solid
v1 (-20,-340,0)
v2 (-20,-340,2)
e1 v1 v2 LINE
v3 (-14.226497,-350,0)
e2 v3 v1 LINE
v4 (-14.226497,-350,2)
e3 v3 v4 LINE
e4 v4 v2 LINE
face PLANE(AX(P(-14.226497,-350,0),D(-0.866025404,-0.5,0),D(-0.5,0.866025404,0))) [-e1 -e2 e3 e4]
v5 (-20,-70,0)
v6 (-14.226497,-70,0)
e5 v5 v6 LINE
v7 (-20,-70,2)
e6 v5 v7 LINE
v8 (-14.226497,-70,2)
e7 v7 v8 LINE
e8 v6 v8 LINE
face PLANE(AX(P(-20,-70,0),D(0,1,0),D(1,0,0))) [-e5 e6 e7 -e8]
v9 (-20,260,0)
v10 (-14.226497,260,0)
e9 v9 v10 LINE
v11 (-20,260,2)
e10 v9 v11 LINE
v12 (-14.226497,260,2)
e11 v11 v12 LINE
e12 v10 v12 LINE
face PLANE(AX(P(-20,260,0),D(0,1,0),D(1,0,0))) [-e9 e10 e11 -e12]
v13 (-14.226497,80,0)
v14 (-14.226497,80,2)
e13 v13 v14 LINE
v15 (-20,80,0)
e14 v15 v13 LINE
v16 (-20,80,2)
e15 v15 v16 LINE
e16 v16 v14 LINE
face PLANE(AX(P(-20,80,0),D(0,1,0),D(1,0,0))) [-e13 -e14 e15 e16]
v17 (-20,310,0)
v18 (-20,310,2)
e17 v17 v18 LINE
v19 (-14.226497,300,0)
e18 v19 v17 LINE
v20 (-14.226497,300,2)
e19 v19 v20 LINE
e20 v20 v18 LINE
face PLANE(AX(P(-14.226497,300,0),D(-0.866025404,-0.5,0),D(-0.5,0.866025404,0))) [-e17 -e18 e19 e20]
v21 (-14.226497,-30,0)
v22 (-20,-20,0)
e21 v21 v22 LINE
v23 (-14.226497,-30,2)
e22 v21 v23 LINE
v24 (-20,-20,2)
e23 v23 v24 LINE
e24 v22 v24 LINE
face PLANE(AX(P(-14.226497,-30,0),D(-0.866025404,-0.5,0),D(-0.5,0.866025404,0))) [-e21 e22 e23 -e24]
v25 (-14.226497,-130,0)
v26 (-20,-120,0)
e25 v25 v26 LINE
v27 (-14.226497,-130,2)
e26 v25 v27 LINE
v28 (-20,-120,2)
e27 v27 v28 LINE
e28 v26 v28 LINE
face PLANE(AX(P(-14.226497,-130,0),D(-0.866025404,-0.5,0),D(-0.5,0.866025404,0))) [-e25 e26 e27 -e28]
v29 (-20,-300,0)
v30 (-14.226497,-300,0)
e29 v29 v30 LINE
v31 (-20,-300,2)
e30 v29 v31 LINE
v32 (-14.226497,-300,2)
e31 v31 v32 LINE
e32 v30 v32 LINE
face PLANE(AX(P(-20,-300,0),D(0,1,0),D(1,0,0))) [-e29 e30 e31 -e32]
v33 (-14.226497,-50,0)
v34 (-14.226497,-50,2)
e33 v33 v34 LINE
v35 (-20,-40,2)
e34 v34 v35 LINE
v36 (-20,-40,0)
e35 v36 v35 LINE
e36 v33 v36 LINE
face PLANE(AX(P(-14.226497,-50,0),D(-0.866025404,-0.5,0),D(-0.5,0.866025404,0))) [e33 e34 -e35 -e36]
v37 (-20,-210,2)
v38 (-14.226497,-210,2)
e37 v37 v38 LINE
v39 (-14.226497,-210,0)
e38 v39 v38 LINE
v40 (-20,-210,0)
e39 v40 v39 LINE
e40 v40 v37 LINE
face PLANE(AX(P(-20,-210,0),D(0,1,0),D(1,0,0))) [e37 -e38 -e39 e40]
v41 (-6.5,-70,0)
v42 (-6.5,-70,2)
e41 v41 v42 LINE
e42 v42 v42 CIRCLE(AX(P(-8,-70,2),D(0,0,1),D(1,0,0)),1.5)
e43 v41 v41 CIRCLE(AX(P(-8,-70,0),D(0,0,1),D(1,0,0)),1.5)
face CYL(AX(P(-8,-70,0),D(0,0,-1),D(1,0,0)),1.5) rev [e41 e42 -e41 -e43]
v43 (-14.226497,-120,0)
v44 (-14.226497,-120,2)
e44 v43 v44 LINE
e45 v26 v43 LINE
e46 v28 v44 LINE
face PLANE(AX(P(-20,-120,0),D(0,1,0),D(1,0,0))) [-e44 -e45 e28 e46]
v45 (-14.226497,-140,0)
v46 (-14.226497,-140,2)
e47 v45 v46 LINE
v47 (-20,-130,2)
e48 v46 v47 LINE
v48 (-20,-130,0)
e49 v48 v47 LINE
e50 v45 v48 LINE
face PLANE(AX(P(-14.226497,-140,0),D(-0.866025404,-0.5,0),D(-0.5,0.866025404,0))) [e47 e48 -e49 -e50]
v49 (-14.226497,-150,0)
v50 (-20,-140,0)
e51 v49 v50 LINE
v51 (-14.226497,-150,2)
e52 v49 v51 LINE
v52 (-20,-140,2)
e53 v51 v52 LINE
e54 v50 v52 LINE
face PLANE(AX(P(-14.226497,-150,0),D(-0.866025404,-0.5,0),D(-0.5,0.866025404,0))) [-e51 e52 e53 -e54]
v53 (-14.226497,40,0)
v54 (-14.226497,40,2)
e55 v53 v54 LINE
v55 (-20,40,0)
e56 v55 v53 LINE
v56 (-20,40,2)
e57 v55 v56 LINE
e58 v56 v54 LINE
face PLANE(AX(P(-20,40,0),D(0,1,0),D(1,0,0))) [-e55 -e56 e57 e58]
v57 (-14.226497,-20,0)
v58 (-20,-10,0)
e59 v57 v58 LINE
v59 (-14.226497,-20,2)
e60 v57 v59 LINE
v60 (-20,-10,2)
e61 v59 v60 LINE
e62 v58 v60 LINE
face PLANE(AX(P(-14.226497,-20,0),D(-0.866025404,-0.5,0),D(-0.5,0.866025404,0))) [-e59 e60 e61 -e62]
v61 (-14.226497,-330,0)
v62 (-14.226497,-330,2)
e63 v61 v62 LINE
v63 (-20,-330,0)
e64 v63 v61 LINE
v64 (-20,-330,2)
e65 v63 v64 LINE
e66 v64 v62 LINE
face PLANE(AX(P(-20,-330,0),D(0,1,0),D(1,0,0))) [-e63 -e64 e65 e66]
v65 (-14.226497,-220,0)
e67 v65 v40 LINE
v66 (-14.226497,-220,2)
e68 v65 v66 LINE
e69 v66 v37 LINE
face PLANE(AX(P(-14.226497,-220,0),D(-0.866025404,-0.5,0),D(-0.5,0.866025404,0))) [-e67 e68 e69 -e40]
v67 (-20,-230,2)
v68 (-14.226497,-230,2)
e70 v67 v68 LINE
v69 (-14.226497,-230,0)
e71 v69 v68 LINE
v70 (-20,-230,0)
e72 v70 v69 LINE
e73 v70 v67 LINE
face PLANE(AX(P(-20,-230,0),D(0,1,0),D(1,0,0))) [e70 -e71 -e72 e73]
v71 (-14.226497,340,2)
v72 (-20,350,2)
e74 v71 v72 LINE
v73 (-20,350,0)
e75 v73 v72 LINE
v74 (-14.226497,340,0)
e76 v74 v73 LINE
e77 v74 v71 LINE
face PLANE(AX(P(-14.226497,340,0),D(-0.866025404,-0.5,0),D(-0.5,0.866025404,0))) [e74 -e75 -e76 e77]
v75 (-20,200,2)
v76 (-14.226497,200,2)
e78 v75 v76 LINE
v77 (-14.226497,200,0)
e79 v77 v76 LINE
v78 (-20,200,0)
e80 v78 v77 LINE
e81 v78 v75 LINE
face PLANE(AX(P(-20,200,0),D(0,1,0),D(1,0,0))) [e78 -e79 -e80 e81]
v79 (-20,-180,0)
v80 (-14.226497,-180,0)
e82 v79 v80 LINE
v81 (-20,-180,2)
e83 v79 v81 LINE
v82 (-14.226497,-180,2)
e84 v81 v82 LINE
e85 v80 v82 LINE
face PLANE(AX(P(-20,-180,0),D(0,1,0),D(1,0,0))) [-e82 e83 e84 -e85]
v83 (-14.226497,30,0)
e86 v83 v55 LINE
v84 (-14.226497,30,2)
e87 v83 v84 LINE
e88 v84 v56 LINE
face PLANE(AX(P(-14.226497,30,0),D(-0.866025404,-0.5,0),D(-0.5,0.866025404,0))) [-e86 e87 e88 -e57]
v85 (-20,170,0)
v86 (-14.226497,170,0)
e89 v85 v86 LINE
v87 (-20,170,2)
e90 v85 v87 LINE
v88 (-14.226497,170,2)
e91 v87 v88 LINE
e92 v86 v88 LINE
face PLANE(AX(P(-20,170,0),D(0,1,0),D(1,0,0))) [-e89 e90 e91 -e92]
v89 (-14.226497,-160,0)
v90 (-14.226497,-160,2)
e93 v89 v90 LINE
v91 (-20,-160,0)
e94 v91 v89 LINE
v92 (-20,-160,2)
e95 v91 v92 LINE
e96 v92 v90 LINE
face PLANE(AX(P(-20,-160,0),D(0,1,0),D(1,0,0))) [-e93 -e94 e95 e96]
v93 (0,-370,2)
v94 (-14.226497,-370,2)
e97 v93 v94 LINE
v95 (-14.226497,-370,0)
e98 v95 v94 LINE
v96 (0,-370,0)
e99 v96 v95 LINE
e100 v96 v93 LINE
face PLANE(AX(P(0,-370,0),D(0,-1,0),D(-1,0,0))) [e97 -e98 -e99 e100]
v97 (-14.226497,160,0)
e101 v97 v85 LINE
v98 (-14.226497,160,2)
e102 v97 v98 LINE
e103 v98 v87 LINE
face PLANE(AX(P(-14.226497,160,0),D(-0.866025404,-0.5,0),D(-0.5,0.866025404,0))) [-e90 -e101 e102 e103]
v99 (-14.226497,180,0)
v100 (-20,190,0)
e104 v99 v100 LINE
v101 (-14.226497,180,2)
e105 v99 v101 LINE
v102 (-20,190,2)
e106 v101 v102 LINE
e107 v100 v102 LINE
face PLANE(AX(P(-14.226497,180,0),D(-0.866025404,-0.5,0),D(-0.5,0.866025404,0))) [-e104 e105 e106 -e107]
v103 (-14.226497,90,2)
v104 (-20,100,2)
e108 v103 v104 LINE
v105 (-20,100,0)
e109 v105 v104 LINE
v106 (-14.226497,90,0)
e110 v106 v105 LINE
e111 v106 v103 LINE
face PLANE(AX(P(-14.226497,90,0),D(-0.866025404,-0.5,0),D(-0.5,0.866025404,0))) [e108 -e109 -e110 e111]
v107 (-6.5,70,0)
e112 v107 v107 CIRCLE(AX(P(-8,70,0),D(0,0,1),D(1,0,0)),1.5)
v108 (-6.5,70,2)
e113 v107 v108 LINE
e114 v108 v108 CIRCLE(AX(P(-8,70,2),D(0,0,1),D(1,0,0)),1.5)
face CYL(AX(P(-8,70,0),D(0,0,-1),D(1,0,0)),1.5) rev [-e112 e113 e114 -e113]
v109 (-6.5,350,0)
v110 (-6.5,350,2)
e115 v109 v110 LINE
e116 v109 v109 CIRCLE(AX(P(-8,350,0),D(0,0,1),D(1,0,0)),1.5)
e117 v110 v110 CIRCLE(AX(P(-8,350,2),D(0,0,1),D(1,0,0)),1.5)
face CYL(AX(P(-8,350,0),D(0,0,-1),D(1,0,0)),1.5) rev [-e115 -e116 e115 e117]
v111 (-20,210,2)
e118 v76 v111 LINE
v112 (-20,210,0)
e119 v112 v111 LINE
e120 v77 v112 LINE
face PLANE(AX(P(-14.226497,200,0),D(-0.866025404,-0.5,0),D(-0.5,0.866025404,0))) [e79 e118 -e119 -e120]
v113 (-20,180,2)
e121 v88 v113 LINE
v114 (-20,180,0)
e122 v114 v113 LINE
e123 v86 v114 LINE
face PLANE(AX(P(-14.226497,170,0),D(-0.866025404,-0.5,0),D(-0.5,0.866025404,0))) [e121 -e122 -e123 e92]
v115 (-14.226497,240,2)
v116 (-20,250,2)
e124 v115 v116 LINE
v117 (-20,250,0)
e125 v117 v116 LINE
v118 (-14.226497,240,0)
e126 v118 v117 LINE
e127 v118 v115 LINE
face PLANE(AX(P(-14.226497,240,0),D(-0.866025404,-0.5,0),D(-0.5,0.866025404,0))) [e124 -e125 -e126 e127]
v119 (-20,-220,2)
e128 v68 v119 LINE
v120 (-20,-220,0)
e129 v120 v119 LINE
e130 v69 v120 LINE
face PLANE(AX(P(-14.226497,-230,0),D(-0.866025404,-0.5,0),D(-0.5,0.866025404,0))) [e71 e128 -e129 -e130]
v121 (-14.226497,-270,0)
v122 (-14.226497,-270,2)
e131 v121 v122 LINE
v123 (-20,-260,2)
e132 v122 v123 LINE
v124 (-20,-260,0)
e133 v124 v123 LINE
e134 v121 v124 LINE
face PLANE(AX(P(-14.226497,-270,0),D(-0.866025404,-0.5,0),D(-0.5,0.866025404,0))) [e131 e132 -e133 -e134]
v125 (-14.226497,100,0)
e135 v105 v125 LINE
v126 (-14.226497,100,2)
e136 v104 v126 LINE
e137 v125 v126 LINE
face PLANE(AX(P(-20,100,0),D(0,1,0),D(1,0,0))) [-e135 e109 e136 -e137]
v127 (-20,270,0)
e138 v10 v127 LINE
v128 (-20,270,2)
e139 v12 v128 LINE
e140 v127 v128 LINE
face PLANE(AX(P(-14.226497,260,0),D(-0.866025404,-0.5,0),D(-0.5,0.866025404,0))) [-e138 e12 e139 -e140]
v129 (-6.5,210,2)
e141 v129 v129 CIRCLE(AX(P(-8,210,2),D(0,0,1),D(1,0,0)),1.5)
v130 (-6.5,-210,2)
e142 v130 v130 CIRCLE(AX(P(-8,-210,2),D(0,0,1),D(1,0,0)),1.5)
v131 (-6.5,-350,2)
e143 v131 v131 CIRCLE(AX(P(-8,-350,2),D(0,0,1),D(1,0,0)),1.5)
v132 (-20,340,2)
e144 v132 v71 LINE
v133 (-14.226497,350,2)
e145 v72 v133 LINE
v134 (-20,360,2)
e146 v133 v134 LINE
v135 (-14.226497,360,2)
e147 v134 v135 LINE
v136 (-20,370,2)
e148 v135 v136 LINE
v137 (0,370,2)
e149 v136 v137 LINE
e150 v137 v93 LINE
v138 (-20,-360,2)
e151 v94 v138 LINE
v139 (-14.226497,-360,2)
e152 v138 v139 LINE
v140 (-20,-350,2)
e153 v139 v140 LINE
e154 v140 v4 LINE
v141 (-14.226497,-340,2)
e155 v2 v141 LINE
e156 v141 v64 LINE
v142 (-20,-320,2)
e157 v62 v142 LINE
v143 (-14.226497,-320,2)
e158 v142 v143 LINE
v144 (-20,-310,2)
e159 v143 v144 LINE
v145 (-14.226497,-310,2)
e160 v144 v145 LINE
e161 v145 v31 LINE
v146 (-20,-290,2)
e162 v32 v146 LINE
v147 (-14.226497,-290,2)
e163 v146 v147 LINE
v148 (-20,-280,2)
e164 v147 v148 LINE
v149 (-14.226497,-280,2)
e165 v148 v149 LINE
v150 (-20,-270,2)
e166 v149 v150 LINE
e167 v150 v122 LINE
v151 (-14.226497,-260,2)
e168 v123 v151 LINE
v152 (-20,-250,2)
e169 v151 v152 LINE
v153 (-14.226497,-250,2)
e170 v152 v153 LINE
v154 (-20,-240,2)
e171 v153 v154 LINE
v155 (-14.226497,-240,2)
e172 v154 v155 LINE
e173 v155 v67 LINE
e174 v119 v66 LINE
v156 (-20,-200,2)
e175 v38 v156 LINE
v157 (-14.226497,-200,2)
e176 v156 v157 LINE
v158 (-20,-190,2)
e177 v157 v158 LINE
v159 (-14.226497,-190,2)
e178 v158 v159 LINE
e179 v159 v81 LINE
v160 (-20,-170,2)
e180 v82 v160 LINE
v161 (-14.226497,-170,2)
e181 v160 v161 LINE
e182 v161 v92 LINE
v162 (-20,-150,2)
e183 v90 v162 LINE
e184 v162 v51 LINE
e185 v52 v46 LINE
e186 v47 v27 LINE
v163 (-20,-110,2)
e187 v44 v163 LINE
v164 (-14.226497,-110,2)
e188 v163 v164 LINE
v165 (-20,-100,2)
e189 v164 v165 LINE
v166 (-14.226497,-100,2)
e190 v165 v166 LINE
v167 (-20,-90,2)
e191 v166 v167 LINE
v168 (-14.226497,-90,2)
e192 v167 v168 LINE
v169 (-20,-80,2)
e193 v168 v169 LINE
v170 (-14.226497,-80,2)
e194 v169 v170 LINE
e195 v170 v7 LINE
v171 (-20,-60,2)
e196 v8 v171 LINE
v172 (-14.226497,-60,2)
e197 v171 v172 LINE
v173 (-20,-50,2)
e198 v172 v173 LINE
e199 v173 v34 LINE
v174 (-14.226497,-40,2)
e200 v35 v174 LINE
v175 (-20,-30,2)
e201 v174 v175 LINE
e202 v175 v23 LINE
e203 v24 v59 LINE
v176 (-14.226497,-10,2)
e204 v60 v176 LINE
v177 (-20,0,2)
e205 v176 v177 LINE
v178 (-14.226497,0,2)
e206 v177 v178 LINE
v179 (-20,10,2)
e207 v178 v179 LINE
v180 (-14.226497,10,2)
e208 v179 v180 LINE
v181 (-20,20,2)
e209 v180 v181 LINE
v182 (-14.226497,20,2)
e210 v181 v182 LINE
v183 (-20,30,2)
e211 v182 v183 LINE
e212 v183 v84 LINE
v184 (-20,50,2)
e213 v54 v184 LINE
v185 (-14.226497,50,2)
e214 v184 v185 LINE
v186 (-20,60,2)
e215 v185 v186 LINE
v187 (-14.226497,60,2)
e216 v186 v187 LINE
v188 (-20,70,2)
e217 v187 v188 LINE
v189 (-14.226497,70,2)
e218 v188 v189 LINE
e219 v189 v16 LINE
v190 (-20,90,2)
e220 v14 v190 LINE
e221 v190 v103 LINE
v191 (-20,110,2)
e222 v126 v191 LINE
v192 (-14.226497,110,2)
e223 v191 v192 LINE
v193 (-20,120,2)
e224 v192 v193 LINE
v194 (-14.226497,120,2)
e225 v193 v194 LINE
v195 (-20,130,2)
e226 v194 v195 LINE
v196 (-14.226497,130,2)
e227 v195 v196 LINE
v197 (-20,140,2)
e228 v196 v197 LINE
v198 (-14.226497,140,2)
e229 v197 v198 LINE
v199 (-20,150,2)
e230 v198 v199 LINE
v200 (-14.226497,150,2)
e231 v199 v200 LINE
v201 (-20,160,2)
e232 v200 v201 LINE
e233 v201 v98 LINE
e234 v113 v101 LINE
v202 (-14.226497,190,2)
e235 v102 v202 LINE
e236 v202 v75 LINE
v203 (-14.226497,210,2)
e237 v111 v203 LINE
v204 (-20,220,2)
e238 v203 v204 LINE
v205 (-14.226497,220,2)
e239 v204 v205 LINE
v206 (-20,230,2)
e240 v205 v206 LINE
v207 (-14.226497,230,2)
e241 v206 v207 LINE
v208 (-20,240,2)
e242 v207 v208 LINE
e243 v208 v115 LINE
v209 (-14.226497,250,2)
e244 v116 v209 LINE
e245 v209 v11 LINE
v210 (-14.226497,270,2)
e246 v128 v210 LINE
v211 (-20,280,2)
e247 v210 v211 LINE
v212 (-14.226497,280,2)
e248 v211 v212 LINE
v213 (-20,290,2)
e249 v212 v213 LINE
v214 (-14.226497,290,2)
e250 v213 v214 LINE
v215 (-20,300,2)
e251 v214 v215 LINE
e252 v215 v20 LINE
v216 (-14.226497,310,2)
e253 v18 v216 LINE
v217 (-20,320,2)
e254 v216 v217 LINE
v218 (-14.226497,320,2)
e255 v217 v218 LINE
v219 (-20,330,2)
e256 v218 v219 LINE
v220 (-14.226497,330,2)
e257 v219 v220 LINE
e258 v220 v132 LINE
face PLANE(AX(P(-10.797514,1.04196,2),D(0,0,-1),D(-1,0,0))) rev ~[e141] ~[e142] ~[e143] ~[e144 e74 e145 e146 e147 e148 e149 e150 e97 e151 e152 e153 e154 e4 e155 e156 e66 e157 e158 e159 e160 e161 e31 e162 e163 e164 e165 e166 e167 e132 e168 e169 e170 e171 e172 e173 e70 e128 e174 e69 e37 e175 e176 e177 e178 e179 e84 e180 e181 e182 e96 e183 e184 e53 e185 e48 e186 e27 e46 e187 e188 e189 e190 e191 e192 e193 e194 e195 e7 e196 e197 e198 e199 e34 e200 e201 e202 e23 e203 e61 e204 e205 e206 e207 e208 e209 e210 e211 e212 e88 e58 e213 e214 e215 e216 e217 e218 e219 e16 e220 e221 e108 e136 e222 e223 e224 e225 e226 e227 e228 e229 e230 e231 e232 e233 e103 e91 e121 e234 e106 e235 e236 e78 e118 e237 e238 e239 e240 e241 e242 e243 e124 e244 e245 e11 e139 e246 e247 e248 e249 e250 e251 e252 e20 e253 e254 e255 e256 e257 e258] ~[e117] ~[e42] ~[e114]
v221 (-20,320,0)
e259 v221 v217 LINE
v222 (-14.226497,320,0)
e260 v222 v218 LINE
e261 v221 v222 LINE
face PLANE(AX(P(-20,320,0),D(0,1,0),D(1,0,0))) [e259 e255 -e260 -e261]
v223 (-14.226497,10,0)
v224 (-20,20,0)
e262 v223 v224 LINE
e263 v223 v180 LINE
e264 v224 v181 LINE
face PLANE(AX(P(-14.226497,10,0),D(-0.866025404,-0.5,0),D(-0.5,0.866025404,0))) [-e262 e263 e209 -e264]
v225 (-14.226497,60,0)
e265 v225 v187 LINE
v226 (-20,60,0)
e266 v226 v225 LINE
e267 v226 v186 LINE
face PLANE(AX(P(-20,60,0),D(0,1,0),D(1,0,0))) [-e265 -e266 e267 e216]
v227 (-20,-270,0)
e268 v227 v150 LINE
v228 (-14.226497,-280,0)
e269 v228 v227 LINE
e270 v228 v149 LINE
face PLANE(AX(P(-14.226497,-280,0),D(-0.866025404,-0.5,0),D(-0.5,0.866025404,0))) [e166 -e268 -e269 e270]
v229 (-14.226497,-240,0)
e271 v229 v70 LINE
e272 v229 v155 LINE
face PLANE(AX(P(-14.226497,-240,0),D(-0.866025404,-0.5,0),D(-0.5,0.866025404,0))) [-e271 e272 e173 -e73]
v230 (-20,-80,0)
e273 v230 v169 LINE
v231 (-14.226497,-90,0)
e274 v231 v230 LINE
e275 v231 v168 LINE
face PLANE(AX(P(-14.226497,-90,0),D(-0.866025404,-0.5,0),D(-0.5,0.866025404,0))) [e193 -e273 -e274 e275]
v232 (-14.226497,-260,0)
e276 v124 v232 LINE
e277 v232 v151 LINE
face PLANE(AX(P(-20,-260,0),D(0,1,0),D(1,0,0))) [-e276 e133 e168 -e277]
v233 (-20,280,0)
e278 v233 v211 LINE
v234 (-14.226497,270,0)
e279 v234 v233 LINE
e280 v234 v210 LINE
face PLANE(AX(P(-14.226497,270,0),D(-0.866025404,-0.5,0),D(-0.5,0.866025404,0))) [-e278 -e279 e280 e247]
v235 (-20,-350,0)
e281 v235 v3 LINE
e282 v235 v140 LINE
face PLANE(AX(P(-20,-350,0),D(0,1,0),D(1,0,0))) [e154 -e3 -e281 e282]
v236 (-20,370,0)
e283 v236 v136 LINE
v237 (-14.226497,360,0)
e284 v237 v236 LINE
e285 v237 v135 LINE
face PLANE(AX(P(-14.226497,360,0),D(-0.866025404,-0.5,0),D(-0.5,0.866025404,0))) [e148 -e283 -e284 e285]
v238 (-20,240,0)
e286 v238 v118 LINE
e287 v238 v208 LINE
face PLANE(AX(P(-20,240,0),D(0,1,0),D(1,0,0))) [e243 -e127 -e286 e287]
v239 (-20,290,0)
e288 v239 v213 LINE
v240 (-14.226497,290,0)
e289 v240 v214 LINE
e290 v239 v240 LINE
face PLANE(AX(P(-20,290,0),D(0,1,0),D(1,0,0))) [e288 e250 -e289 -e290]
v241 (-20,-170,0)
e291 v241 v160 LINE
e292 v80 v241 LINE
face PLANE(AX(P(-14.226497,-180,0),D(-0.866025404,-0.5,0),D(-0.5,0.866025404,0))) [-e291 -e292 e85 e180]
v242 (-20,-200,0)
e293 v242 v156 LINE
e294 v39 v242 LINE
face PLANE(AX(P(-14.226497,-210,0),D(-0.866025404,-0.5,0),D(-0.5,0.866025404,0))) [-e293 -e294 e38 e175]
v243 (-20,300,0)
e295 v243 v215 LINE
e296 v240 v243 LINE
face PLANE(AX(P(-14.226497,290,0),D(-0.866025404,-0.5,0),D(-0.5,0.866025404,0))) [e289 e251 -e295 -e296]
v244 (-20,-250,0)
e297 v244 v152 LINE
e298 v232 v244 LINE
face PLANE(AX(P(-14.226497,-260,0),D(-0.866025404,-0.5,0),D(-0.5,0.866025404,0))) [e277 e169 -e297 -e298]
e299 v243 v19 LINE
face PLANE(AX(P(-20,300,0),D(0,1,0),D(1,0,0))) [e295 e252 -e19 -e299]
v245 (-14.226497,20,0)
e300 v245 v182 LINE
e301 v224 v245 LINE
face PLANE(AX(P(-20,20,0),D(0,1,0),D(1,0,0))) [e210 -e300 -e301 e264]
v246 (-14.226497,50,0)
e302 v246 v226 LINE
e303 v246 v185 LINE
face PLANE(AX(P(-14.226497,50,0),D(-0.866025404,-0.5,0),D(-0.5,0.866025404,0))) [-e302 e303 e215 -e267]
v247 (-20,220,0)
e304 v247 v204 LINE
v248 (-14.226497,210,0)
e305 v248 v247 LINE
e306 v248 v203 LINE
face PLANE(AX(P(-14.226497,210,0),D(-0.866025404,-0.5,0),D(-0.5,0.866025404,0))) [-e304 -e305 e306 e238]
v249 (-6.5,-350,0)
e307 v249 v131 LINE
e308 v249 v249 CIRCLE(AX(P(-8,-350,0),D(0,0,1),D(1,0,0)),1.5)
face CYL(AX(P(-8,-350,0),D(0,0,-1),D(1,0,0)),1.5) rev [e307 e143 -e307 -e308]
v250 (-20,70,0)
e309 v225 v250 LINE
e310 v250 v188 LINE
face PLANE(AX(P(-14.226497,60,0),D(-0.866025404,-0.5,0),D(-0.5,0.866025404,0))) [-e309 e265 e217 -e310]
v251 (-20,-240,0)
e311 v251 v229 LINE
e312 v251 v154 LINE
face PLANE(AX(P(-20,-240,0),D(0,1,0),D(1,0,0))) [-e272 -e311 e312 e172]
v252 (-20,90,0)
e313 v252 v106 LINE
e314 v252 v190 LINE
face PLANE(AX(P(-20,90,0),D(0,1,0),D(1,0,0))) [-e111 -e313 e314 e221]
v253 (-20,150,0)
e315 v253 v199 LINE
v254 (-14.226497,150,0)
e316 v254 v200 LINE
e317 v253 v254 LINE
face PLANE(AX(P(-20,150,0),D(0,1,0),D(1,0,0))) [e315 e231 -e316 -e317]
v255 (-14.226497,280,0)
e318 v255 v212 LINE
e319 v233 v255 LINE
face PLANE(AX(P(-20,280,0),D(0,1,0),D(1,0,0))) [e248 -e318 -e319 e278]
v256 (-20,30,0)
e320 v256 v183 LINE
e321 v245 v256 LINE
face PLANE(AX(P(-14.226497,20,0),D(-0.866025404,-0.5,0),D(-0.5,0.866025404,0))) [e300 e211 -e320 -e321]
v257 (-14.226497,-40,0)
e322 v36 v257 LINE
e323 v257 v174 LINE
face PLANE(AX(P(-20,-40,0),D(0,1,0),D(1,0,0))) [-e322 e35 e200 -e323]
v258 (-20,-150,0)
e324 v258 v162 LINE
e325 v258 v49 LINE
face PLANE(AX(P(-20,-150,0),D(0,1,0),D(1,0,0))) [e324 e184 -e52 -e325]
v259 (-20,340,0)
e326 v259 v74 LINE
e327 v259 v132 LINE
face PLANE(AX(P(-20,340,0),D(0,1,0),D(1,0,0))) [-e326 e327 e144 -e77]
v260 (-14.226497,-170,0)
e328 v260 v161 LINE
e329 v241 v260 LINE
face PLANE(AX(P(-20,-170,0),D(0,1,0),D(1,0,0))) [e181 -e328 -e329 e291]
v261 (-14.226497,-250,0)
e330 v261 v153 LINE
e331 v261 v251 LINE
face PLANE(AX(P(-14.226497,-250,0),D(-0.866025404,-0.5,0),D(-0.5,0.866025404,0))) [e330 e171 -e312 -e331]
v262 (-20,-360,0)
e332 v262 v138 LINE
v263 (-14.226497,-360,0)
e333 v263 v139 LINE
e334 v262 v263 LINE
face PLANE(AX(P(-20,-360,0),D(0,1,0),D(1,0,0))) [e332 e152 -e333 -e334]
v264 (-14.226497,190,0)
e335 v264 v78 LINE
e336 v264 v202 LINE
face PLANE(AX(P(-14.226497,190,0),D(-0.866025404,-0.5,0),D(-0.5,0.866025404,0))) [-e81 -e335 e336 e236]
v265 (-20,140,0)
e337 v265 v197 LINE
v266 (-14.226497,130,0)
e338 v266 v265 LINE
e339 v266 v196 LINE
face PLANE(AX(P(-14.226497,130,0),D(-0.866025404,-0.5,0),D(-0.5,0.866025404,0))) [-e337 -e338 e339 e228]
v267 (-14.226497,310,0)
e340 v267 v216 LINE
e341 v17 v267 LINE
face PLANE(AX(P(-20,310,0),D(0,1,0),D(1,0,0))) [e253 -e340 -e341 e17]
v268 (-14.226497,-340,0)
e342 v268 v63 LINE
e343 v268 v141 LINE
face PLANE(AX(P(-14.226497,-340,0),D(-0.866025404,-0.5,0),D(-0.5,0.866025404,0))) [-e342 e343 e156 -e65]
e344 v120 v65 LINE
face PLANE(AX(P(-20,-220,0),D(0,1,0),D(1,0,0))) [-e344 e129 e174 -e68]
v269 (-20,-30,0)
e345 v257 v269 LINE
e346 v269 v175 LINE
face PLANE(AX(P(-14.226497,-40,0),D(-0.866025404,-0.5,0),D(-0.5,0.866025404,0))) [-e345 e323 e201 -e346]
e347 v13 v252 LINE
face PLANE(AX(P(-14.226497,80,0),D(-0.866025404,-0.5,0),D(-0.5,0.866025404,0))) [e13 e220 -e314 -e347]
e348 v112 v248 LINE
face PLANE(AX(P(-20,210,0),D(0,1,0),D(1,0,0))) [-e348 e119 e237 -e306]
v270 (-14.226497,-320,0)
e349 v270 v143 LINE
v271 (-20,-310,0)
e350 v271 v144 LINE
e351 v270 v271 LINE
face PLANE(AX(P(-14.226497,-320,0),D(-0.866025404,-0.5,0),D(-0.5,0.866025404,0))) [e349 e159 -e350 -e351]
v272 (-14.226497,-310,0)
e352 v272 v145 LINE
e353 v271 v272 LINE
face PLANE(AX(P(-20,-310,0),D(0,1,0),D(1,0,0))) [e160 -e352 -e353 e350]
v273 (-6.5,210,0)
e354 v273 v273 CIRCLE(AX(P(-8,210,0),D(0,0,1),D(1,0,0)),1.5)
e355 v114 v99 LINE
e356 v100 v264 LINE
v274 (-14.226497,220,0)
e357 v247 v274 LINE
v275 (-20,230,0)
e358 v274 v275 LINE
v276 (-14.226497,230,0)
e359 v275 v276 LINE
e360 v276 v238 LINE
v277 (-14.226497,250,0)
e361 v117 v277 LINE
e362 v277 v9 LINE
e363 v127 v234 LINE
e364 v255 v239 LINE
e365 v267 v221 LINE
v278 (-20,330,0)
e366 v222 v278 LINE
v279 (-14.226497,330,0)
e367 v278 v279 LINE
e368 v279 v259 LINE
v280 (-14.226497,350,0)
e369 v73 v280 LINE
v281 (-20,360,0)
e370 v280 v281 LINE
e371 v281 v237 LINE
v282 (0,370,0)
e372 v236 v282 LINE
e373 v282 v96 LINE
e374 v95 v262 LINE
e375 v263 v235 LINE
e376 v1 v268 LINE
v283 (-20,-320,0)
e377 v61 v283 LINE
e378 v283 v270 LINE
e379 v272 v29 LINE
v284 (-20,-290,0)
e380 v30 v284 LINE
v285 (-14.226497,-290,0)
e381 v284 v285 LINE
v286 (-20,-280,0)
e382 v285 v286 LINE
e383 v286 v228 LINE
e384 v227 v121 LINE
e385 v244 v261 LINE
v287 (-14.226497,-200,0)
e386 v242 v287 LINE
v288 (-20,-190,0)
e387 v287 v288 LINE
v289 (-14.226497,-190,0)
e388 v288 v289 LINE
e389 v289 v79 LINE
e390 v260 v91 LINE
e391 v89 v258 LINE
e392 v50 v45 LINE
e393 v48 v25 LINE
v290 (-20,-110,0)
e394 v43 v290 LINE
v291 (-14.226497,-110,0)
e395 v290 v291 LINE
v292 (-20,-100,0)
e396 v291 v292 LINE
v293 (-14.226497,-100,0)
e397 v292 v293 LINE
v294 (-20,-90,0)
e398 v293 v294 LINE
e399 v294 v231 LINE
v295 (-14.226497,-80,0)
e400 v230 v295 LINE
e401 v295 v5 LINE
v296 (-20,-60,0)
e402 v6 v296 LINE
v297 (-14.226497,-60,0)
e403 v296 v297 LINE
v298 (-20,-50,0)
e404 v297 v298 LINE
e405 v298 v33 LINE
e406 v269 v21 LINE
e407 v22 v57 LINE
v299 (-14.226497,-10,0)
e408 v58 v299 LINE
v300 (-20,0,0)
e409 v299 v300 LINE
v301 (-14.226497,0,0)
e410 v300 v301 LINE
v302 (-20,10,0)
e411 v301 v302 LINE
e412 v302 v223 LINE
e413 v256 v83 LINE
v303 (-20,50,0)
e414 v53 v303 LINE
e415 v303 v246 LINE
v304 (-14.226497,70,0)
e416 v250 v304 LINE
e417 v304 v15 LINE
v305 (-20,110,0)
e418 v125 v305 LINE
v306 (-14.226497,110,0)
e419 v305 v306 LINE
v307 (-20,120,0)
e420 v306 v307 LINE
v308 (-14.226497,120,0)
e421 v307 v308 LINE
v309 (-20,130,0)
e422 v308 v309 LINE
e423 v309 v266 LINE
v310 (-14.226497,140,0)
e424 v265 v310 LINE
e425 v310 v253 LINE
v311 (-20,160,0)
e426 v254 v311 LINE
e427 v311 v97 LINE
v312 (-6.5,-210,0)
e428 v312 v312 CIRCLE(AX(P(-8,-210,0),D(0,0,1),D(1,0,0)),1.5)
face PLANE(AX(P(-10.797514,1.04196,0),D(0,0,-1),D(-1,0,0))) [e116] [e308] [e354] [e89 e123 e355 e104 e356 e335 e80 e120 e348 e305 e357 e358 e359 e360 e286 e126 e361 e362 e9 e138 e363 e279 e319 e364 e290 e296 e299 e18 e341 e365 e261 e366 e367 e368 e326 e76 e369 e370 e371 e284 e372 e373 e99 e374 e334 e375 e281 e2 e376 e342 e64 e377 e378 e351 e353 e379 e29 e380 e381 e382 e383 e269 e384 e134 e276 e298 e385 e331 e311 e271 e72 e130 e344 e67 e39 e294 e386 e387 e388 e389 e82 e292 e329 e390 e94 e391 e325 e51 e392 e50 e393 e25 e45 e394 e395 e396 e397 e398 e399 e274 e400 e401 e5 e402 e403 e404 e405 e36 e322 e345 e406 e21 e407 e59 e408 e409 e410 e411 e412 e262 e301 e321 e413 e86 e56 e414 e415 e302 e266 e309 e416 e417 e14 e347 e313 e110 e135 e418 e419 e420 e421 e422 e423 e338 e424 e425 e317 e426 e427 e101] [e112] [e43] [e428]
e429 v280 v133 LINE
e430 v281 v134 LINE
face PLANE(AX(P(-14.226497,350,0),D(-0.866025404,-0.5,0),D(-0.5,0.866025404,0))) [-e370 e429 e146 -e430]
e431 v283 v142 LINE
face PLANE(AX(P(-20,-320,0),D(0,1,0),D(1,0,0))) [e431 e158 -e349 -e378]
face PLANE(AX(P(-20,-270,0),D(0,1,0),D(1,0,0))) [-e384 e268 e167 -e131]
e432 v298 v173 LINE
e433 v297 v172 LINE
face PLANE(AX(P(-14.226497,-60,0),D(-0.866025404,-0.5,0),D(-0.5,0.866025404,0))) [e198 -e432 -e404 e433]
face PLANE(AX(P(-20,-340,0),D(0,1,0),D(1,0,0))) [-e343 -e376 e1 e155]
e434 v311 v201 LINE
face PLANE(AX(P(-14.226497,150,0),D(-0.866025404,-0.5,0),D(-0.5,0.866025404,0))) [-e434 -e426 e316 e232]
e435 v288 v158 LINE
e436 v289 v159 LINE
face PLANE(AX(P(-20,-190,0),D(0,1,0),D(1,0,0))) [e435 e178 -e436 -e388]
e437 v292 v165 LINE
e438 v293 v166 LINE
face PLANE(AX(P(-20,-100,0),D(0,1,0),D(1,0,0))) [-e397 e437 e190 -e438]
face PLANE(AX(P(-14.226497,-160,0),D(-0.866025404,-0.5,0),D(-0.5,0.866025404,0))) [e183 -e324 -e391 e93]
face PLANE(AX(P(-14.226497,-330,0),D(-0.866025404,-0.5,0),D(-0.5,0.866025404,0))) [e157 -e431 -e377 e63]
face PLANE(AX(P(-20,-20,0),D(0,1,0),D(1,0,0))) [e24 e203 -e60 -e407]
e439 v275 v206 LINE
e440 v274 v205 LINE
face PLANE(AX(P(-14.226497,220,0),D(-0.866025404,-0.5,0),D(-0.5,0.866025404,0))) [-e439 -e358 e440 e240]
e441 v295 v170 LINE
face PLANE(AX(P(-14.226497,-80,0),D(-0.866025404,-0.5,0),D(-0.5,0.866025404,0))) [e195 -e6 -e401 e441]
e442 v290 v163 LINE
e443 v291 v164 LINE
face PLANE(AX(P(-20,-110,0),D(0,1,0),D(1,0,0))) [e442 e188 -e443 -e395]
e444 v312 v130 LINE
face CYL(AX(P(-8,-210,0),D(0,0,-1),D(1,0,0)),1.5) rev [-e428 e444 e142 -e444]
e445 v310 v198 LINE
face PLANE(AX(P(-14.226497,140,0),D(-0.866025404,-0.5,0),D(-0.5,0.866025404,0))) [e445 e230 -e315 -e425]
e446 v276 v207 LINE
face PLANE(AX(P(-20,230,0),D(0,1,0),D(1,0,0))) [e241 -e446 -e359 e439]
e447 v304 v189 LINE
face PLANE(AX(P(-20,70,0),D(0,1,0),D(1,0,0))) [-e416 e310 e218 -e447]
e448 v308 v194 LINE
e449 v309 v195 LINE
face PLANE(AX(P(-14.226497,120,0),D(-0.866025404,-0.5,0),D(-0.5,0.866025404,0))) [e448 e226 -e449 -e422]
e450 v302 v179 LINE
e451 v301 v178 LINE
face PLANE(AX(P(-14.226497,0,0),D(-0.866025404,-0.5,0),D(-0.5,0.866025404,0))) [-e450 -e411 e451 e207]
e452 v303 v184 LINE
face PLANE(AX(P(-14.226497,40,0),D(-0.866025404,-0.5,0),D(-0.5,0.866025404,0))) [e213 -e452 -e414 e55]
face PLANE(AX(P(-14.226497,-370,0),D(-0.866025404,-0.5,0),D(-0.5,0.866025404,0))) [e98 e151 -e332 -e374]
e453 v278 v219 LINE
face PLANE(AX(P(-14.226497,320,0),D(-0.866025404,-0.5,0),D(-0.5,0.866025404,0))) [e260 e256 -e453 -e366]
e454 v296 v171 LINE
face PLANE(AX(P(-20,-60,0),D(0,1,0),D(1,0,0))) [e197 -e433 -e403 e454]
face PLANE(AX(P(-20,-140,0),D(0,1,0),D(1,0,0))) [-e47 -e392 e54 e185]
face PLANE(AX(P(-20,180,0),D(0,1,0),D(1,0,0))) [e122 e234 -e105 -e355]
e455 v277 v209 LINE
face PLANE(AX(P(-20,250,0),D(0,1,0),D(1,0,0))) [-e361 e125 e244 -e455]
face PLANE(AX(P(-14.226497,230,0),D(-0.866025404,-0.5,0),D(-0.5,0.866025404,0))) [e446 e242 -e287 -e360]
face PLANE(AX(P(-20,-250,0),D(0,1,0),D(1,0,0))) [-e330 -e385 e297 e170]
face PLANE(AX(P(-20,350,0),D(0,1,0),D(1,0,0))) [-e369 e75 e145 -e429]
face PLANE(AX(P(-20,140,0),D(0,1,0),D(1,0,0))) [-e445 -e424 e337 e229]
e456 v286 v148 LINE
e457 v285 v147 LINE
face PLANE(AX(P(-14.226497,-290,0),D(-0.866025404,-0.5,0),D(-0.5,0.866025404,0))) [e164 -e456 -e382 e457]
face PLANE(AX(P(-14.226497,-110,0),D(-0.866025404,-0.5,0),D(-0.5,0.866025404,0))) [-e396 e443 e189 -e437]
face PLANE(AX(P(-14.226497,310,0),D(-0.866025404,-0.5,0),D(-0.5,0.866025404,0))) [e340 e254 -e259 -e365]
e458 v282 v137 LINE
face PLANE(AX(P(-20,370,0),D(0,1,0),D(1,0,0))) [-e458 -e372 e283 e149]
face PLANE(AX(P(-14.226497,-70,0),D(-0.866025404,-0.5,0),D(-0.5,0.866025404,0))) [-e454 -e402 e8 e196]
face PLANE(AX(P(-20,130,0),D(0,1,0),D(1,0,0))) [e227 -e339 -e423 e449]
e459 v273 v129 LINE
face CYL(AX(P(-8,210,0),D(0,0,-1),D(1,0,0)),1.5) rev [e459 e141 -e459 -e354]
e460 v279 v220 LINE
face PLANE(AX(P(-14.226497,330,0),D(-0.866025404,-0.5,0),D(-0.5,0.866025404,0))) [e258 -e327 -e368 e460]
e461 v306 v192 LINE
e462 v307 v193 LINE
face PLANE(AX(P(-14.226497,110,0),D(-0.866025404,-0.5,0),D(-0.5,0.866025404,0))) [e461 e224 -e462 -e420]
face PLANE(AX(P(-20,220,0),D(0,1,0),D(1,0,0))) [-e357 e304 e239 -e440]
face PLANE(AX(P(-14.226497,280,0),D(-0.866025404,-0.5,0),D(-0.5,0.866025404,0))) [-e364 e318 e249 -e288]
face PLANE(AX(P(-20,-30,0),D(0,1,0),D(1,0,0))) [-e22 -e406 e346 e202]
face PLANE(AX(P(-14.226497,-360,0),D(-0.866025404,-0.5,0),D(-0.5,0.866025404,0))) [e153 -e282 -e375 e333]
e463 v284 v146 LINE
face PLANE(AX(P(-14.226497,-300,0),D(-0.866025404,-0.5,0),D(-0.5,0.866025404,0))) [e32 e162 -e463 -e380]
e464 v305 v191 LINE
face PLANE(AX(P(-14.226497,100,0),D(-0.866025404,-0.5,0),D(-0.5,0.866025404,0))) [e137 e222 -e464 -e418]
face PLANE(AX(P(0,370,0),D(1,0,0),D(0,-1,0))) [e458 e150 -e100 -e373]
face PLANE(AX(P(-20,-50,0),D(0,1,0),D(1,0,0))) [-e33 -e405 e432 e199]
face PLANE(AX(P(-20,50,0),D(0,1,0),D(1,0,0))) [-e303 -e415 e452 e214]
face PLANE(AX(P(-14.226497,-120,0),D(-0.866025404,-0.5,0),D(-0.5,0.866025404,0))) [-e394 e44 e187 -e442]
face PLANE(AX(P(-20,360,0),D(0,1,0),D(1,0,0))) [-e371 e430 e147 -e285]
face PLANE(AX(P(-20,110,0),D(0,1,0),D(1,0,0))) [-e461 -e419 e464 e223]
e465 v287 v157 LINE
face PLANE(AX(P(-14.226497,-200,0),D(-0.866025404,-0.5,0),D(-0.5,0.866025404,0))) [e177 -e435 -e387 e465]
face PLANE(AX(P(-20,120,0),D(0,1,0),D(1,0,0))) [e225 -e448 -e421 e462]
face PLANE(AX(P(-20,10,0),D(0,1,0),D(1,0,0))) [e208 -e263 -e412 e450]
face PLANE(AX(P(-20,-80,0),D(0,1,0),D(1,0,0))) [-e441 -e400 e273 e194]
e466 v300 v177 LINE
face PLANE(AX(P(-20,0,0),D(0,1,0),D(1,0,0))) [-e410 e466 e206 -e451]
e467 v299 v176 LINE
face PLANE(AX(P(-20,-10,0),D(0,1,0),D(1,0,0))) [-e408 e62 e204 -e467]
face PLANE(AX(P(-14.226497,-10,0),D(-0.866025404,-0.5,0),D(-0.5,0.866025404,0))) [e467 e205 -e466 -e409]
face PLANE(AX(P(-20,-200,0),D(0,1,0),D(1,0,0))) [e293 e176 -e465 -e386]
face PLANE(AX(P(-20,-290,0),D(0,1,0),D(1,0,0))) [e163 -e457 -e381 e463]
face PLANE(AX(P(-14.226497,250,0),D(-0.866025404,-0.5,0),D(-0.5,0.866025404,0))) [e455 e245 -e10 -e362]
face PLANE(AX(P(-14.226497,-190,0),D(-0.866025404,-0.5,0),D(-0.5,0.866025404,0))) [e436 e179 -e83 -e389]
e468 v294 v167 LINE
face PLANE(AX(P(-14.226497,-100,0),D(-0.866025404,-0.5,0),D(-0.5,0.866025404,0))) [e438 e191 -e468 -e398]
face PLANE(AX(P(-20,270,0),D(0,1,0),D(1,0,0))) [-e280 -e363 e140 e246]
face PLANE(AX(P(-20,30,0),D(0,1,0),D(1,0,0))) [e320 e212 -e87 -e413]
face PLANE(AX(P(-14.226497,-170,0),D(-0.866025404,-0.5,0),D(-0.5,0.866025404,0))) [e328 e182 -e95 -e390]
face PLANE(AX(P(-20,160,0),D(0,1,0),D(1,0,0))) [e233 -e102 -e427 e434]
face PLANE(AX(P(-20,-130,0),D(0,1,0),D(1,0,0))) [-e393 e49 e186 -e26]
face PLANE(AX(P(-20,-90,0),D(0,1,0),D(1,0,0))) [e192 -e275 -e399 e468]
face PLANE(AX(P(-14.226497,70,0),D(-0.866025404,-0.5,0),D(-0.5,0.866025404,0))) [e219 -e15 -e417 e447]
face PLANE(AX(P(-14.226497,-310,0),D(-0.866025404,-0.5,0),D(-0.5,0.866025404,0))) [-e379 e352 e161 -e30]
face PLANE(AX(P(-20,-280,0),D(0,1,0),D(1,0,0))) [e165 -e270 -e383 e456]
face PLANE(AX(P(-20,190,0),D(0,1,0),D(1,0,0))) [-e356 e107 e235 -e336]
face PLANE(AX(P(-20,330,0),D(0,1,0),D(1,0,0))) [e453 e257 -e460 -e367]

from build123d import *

# Parameters (mm, degrees)
SKETCH1_R           = 1.5
BOSS_EXTRUDE1_DEPTH = 2


with BuildPart() as part:
    # Sketch1 → Boss-Extrude1 (new body)
    with BuildSketch(Plane.XY):
        Polygon((0, 370), (0, -370), (-14.226497308, -370), (-20, -360), (-14.226497308, -360), (-20, -350), (-14.226497308, -350), (-20, -340), (-14.226497308, -340), (-20, -330), (-14.226497308, -330), (-20, -320), (-14.226497308, -320), (-20, -310), (-14.226497308, -310), (-20, -300), (-14.226497308, -300), (-20, -290), (-14.226497308, -290), (-20, -280), (-14.226497308, -280), (-20, -270), (-14.226497308, -270), (-20, -260), (-14.226497308, -260), (-20, -250), (-14.226497308, -250), (-20, -240), (-14.226497308, -240), (-20, -230), (-14.226497308, -230), (-20, -220), (-14.226497308, -220), (-20, -210), (-14.226497308, -210), (-20, -200), (-14.226497308, -200), (-20, -190), (-14.226497308, -190), (-20, -180), (-14.226497308, -180), (-20, -170), (-14.226497308, -170), (-20, -160), (-14.226497308, -160), (-20, -150), (-14.226497308, -150), (-20, -140), (-14.226497308, -140), (-20, -130), (-14.226497308, -130), (-20, -120), (-14.226497308, -120), (-20, -110), (-14.226497308, -110), (-20, -100), (-14.226497308, -100), (-20, -90), (-14.226497308, -90), (-20, -80), (-14.226497308, -80), (-20, -70), (-14.226497308, -70), (-20, -60), (-14.226497308, -60), (-20, -50), (-14.226497308, -50), (-20, -40), (-14.226497308, -40), (-20, -30), (-14.226497308, -30), (-20, -20), (-14.226497308, -20), (-20, -10), (-14.226497308, -10), (-20, 0), (-14.226497308, 0), (-20, 10), (-14.226497308, 10), (-20, 20), (-14.226497308, 20), (-20, 30), (-14.226497308, 30), (-20, 40), (-14.226497308, 40), (-20, 50), (-14.226497308, 50), (-20, 60), (-14.226497308, 60), (-20, 70), (-14.226497308, 70), (-20, 80), (-14.226497308, 80), (-20, 90), (-14.226497308, 90), (-20, 100), (-14.226497308, 100), (-20, 110), (-14.226497308, 110), (-20, 120), (-14.226497308, 120), (-20, 130), (-14.226497308, 130), (-20, 140), (-14.226497308, 140), (-20, 150), (-14.226497308, 150), (-20, 160), (-14.226497308, 160), (-20, 170), (-14.226497308, 170), (-20, 180), (-14.226497308, 180), (-20, 190), (-14.226497308, 190), (-20, 200), (-14.226497308, 200), (-20, 210), (-14.226497308, 210), (-20, 220), (-14.226497308, 220), (-20, 230), (-14.226497308, 230), (-20, 240), (-14.226497308, 240), (-20, 250), (-14.226497308, 250), (-20, 260), (-14.226497308, 260), (-20, 270), (-14.226497308, 270), (-20, 280), (-14.226497308, 280), (-20, 290), (-14.226497308, 290), (-20, 300), (-14.226497308, 300), (-20, 310), (-14.226497308, 310), (-20, 320), (-14.226497308, 320), (-20, 330), (-14.226497308, 330), (-20, 340), (-14.226497308, 340), (-20, 350), (-14.226497308, 350), (-20, 360), (-14.226497308, 360), (-20, 370), align=None)
        with Locations((-8, 350)):
            Circle(SKETCH1_R, mode=Mode.SUBTRACT)
        with Locations((-8, 210)):
            Circle(SKETCH1_R, mode=Mode.SUBTRACT)
        with Locations((-8, 70)):
            Circle(SKETCH1_R, mode=Mode.SUBTRACT)
        with Locations((-8, -70)):
            Circle(SKETCH1_R, mode=Mode.SUBTRACT)
        with Locations((-8, -210)):
            Circle(SKETCH1_R, mode=Mode.SUBTRACT)
        with Locations((-8, -350)):
            Circle(SKETCH1_R, mode=Mode.SUBTRACT)
    extrude(amount=BOSS_EXTRUDE1_DEPTH)


solid = part.part
